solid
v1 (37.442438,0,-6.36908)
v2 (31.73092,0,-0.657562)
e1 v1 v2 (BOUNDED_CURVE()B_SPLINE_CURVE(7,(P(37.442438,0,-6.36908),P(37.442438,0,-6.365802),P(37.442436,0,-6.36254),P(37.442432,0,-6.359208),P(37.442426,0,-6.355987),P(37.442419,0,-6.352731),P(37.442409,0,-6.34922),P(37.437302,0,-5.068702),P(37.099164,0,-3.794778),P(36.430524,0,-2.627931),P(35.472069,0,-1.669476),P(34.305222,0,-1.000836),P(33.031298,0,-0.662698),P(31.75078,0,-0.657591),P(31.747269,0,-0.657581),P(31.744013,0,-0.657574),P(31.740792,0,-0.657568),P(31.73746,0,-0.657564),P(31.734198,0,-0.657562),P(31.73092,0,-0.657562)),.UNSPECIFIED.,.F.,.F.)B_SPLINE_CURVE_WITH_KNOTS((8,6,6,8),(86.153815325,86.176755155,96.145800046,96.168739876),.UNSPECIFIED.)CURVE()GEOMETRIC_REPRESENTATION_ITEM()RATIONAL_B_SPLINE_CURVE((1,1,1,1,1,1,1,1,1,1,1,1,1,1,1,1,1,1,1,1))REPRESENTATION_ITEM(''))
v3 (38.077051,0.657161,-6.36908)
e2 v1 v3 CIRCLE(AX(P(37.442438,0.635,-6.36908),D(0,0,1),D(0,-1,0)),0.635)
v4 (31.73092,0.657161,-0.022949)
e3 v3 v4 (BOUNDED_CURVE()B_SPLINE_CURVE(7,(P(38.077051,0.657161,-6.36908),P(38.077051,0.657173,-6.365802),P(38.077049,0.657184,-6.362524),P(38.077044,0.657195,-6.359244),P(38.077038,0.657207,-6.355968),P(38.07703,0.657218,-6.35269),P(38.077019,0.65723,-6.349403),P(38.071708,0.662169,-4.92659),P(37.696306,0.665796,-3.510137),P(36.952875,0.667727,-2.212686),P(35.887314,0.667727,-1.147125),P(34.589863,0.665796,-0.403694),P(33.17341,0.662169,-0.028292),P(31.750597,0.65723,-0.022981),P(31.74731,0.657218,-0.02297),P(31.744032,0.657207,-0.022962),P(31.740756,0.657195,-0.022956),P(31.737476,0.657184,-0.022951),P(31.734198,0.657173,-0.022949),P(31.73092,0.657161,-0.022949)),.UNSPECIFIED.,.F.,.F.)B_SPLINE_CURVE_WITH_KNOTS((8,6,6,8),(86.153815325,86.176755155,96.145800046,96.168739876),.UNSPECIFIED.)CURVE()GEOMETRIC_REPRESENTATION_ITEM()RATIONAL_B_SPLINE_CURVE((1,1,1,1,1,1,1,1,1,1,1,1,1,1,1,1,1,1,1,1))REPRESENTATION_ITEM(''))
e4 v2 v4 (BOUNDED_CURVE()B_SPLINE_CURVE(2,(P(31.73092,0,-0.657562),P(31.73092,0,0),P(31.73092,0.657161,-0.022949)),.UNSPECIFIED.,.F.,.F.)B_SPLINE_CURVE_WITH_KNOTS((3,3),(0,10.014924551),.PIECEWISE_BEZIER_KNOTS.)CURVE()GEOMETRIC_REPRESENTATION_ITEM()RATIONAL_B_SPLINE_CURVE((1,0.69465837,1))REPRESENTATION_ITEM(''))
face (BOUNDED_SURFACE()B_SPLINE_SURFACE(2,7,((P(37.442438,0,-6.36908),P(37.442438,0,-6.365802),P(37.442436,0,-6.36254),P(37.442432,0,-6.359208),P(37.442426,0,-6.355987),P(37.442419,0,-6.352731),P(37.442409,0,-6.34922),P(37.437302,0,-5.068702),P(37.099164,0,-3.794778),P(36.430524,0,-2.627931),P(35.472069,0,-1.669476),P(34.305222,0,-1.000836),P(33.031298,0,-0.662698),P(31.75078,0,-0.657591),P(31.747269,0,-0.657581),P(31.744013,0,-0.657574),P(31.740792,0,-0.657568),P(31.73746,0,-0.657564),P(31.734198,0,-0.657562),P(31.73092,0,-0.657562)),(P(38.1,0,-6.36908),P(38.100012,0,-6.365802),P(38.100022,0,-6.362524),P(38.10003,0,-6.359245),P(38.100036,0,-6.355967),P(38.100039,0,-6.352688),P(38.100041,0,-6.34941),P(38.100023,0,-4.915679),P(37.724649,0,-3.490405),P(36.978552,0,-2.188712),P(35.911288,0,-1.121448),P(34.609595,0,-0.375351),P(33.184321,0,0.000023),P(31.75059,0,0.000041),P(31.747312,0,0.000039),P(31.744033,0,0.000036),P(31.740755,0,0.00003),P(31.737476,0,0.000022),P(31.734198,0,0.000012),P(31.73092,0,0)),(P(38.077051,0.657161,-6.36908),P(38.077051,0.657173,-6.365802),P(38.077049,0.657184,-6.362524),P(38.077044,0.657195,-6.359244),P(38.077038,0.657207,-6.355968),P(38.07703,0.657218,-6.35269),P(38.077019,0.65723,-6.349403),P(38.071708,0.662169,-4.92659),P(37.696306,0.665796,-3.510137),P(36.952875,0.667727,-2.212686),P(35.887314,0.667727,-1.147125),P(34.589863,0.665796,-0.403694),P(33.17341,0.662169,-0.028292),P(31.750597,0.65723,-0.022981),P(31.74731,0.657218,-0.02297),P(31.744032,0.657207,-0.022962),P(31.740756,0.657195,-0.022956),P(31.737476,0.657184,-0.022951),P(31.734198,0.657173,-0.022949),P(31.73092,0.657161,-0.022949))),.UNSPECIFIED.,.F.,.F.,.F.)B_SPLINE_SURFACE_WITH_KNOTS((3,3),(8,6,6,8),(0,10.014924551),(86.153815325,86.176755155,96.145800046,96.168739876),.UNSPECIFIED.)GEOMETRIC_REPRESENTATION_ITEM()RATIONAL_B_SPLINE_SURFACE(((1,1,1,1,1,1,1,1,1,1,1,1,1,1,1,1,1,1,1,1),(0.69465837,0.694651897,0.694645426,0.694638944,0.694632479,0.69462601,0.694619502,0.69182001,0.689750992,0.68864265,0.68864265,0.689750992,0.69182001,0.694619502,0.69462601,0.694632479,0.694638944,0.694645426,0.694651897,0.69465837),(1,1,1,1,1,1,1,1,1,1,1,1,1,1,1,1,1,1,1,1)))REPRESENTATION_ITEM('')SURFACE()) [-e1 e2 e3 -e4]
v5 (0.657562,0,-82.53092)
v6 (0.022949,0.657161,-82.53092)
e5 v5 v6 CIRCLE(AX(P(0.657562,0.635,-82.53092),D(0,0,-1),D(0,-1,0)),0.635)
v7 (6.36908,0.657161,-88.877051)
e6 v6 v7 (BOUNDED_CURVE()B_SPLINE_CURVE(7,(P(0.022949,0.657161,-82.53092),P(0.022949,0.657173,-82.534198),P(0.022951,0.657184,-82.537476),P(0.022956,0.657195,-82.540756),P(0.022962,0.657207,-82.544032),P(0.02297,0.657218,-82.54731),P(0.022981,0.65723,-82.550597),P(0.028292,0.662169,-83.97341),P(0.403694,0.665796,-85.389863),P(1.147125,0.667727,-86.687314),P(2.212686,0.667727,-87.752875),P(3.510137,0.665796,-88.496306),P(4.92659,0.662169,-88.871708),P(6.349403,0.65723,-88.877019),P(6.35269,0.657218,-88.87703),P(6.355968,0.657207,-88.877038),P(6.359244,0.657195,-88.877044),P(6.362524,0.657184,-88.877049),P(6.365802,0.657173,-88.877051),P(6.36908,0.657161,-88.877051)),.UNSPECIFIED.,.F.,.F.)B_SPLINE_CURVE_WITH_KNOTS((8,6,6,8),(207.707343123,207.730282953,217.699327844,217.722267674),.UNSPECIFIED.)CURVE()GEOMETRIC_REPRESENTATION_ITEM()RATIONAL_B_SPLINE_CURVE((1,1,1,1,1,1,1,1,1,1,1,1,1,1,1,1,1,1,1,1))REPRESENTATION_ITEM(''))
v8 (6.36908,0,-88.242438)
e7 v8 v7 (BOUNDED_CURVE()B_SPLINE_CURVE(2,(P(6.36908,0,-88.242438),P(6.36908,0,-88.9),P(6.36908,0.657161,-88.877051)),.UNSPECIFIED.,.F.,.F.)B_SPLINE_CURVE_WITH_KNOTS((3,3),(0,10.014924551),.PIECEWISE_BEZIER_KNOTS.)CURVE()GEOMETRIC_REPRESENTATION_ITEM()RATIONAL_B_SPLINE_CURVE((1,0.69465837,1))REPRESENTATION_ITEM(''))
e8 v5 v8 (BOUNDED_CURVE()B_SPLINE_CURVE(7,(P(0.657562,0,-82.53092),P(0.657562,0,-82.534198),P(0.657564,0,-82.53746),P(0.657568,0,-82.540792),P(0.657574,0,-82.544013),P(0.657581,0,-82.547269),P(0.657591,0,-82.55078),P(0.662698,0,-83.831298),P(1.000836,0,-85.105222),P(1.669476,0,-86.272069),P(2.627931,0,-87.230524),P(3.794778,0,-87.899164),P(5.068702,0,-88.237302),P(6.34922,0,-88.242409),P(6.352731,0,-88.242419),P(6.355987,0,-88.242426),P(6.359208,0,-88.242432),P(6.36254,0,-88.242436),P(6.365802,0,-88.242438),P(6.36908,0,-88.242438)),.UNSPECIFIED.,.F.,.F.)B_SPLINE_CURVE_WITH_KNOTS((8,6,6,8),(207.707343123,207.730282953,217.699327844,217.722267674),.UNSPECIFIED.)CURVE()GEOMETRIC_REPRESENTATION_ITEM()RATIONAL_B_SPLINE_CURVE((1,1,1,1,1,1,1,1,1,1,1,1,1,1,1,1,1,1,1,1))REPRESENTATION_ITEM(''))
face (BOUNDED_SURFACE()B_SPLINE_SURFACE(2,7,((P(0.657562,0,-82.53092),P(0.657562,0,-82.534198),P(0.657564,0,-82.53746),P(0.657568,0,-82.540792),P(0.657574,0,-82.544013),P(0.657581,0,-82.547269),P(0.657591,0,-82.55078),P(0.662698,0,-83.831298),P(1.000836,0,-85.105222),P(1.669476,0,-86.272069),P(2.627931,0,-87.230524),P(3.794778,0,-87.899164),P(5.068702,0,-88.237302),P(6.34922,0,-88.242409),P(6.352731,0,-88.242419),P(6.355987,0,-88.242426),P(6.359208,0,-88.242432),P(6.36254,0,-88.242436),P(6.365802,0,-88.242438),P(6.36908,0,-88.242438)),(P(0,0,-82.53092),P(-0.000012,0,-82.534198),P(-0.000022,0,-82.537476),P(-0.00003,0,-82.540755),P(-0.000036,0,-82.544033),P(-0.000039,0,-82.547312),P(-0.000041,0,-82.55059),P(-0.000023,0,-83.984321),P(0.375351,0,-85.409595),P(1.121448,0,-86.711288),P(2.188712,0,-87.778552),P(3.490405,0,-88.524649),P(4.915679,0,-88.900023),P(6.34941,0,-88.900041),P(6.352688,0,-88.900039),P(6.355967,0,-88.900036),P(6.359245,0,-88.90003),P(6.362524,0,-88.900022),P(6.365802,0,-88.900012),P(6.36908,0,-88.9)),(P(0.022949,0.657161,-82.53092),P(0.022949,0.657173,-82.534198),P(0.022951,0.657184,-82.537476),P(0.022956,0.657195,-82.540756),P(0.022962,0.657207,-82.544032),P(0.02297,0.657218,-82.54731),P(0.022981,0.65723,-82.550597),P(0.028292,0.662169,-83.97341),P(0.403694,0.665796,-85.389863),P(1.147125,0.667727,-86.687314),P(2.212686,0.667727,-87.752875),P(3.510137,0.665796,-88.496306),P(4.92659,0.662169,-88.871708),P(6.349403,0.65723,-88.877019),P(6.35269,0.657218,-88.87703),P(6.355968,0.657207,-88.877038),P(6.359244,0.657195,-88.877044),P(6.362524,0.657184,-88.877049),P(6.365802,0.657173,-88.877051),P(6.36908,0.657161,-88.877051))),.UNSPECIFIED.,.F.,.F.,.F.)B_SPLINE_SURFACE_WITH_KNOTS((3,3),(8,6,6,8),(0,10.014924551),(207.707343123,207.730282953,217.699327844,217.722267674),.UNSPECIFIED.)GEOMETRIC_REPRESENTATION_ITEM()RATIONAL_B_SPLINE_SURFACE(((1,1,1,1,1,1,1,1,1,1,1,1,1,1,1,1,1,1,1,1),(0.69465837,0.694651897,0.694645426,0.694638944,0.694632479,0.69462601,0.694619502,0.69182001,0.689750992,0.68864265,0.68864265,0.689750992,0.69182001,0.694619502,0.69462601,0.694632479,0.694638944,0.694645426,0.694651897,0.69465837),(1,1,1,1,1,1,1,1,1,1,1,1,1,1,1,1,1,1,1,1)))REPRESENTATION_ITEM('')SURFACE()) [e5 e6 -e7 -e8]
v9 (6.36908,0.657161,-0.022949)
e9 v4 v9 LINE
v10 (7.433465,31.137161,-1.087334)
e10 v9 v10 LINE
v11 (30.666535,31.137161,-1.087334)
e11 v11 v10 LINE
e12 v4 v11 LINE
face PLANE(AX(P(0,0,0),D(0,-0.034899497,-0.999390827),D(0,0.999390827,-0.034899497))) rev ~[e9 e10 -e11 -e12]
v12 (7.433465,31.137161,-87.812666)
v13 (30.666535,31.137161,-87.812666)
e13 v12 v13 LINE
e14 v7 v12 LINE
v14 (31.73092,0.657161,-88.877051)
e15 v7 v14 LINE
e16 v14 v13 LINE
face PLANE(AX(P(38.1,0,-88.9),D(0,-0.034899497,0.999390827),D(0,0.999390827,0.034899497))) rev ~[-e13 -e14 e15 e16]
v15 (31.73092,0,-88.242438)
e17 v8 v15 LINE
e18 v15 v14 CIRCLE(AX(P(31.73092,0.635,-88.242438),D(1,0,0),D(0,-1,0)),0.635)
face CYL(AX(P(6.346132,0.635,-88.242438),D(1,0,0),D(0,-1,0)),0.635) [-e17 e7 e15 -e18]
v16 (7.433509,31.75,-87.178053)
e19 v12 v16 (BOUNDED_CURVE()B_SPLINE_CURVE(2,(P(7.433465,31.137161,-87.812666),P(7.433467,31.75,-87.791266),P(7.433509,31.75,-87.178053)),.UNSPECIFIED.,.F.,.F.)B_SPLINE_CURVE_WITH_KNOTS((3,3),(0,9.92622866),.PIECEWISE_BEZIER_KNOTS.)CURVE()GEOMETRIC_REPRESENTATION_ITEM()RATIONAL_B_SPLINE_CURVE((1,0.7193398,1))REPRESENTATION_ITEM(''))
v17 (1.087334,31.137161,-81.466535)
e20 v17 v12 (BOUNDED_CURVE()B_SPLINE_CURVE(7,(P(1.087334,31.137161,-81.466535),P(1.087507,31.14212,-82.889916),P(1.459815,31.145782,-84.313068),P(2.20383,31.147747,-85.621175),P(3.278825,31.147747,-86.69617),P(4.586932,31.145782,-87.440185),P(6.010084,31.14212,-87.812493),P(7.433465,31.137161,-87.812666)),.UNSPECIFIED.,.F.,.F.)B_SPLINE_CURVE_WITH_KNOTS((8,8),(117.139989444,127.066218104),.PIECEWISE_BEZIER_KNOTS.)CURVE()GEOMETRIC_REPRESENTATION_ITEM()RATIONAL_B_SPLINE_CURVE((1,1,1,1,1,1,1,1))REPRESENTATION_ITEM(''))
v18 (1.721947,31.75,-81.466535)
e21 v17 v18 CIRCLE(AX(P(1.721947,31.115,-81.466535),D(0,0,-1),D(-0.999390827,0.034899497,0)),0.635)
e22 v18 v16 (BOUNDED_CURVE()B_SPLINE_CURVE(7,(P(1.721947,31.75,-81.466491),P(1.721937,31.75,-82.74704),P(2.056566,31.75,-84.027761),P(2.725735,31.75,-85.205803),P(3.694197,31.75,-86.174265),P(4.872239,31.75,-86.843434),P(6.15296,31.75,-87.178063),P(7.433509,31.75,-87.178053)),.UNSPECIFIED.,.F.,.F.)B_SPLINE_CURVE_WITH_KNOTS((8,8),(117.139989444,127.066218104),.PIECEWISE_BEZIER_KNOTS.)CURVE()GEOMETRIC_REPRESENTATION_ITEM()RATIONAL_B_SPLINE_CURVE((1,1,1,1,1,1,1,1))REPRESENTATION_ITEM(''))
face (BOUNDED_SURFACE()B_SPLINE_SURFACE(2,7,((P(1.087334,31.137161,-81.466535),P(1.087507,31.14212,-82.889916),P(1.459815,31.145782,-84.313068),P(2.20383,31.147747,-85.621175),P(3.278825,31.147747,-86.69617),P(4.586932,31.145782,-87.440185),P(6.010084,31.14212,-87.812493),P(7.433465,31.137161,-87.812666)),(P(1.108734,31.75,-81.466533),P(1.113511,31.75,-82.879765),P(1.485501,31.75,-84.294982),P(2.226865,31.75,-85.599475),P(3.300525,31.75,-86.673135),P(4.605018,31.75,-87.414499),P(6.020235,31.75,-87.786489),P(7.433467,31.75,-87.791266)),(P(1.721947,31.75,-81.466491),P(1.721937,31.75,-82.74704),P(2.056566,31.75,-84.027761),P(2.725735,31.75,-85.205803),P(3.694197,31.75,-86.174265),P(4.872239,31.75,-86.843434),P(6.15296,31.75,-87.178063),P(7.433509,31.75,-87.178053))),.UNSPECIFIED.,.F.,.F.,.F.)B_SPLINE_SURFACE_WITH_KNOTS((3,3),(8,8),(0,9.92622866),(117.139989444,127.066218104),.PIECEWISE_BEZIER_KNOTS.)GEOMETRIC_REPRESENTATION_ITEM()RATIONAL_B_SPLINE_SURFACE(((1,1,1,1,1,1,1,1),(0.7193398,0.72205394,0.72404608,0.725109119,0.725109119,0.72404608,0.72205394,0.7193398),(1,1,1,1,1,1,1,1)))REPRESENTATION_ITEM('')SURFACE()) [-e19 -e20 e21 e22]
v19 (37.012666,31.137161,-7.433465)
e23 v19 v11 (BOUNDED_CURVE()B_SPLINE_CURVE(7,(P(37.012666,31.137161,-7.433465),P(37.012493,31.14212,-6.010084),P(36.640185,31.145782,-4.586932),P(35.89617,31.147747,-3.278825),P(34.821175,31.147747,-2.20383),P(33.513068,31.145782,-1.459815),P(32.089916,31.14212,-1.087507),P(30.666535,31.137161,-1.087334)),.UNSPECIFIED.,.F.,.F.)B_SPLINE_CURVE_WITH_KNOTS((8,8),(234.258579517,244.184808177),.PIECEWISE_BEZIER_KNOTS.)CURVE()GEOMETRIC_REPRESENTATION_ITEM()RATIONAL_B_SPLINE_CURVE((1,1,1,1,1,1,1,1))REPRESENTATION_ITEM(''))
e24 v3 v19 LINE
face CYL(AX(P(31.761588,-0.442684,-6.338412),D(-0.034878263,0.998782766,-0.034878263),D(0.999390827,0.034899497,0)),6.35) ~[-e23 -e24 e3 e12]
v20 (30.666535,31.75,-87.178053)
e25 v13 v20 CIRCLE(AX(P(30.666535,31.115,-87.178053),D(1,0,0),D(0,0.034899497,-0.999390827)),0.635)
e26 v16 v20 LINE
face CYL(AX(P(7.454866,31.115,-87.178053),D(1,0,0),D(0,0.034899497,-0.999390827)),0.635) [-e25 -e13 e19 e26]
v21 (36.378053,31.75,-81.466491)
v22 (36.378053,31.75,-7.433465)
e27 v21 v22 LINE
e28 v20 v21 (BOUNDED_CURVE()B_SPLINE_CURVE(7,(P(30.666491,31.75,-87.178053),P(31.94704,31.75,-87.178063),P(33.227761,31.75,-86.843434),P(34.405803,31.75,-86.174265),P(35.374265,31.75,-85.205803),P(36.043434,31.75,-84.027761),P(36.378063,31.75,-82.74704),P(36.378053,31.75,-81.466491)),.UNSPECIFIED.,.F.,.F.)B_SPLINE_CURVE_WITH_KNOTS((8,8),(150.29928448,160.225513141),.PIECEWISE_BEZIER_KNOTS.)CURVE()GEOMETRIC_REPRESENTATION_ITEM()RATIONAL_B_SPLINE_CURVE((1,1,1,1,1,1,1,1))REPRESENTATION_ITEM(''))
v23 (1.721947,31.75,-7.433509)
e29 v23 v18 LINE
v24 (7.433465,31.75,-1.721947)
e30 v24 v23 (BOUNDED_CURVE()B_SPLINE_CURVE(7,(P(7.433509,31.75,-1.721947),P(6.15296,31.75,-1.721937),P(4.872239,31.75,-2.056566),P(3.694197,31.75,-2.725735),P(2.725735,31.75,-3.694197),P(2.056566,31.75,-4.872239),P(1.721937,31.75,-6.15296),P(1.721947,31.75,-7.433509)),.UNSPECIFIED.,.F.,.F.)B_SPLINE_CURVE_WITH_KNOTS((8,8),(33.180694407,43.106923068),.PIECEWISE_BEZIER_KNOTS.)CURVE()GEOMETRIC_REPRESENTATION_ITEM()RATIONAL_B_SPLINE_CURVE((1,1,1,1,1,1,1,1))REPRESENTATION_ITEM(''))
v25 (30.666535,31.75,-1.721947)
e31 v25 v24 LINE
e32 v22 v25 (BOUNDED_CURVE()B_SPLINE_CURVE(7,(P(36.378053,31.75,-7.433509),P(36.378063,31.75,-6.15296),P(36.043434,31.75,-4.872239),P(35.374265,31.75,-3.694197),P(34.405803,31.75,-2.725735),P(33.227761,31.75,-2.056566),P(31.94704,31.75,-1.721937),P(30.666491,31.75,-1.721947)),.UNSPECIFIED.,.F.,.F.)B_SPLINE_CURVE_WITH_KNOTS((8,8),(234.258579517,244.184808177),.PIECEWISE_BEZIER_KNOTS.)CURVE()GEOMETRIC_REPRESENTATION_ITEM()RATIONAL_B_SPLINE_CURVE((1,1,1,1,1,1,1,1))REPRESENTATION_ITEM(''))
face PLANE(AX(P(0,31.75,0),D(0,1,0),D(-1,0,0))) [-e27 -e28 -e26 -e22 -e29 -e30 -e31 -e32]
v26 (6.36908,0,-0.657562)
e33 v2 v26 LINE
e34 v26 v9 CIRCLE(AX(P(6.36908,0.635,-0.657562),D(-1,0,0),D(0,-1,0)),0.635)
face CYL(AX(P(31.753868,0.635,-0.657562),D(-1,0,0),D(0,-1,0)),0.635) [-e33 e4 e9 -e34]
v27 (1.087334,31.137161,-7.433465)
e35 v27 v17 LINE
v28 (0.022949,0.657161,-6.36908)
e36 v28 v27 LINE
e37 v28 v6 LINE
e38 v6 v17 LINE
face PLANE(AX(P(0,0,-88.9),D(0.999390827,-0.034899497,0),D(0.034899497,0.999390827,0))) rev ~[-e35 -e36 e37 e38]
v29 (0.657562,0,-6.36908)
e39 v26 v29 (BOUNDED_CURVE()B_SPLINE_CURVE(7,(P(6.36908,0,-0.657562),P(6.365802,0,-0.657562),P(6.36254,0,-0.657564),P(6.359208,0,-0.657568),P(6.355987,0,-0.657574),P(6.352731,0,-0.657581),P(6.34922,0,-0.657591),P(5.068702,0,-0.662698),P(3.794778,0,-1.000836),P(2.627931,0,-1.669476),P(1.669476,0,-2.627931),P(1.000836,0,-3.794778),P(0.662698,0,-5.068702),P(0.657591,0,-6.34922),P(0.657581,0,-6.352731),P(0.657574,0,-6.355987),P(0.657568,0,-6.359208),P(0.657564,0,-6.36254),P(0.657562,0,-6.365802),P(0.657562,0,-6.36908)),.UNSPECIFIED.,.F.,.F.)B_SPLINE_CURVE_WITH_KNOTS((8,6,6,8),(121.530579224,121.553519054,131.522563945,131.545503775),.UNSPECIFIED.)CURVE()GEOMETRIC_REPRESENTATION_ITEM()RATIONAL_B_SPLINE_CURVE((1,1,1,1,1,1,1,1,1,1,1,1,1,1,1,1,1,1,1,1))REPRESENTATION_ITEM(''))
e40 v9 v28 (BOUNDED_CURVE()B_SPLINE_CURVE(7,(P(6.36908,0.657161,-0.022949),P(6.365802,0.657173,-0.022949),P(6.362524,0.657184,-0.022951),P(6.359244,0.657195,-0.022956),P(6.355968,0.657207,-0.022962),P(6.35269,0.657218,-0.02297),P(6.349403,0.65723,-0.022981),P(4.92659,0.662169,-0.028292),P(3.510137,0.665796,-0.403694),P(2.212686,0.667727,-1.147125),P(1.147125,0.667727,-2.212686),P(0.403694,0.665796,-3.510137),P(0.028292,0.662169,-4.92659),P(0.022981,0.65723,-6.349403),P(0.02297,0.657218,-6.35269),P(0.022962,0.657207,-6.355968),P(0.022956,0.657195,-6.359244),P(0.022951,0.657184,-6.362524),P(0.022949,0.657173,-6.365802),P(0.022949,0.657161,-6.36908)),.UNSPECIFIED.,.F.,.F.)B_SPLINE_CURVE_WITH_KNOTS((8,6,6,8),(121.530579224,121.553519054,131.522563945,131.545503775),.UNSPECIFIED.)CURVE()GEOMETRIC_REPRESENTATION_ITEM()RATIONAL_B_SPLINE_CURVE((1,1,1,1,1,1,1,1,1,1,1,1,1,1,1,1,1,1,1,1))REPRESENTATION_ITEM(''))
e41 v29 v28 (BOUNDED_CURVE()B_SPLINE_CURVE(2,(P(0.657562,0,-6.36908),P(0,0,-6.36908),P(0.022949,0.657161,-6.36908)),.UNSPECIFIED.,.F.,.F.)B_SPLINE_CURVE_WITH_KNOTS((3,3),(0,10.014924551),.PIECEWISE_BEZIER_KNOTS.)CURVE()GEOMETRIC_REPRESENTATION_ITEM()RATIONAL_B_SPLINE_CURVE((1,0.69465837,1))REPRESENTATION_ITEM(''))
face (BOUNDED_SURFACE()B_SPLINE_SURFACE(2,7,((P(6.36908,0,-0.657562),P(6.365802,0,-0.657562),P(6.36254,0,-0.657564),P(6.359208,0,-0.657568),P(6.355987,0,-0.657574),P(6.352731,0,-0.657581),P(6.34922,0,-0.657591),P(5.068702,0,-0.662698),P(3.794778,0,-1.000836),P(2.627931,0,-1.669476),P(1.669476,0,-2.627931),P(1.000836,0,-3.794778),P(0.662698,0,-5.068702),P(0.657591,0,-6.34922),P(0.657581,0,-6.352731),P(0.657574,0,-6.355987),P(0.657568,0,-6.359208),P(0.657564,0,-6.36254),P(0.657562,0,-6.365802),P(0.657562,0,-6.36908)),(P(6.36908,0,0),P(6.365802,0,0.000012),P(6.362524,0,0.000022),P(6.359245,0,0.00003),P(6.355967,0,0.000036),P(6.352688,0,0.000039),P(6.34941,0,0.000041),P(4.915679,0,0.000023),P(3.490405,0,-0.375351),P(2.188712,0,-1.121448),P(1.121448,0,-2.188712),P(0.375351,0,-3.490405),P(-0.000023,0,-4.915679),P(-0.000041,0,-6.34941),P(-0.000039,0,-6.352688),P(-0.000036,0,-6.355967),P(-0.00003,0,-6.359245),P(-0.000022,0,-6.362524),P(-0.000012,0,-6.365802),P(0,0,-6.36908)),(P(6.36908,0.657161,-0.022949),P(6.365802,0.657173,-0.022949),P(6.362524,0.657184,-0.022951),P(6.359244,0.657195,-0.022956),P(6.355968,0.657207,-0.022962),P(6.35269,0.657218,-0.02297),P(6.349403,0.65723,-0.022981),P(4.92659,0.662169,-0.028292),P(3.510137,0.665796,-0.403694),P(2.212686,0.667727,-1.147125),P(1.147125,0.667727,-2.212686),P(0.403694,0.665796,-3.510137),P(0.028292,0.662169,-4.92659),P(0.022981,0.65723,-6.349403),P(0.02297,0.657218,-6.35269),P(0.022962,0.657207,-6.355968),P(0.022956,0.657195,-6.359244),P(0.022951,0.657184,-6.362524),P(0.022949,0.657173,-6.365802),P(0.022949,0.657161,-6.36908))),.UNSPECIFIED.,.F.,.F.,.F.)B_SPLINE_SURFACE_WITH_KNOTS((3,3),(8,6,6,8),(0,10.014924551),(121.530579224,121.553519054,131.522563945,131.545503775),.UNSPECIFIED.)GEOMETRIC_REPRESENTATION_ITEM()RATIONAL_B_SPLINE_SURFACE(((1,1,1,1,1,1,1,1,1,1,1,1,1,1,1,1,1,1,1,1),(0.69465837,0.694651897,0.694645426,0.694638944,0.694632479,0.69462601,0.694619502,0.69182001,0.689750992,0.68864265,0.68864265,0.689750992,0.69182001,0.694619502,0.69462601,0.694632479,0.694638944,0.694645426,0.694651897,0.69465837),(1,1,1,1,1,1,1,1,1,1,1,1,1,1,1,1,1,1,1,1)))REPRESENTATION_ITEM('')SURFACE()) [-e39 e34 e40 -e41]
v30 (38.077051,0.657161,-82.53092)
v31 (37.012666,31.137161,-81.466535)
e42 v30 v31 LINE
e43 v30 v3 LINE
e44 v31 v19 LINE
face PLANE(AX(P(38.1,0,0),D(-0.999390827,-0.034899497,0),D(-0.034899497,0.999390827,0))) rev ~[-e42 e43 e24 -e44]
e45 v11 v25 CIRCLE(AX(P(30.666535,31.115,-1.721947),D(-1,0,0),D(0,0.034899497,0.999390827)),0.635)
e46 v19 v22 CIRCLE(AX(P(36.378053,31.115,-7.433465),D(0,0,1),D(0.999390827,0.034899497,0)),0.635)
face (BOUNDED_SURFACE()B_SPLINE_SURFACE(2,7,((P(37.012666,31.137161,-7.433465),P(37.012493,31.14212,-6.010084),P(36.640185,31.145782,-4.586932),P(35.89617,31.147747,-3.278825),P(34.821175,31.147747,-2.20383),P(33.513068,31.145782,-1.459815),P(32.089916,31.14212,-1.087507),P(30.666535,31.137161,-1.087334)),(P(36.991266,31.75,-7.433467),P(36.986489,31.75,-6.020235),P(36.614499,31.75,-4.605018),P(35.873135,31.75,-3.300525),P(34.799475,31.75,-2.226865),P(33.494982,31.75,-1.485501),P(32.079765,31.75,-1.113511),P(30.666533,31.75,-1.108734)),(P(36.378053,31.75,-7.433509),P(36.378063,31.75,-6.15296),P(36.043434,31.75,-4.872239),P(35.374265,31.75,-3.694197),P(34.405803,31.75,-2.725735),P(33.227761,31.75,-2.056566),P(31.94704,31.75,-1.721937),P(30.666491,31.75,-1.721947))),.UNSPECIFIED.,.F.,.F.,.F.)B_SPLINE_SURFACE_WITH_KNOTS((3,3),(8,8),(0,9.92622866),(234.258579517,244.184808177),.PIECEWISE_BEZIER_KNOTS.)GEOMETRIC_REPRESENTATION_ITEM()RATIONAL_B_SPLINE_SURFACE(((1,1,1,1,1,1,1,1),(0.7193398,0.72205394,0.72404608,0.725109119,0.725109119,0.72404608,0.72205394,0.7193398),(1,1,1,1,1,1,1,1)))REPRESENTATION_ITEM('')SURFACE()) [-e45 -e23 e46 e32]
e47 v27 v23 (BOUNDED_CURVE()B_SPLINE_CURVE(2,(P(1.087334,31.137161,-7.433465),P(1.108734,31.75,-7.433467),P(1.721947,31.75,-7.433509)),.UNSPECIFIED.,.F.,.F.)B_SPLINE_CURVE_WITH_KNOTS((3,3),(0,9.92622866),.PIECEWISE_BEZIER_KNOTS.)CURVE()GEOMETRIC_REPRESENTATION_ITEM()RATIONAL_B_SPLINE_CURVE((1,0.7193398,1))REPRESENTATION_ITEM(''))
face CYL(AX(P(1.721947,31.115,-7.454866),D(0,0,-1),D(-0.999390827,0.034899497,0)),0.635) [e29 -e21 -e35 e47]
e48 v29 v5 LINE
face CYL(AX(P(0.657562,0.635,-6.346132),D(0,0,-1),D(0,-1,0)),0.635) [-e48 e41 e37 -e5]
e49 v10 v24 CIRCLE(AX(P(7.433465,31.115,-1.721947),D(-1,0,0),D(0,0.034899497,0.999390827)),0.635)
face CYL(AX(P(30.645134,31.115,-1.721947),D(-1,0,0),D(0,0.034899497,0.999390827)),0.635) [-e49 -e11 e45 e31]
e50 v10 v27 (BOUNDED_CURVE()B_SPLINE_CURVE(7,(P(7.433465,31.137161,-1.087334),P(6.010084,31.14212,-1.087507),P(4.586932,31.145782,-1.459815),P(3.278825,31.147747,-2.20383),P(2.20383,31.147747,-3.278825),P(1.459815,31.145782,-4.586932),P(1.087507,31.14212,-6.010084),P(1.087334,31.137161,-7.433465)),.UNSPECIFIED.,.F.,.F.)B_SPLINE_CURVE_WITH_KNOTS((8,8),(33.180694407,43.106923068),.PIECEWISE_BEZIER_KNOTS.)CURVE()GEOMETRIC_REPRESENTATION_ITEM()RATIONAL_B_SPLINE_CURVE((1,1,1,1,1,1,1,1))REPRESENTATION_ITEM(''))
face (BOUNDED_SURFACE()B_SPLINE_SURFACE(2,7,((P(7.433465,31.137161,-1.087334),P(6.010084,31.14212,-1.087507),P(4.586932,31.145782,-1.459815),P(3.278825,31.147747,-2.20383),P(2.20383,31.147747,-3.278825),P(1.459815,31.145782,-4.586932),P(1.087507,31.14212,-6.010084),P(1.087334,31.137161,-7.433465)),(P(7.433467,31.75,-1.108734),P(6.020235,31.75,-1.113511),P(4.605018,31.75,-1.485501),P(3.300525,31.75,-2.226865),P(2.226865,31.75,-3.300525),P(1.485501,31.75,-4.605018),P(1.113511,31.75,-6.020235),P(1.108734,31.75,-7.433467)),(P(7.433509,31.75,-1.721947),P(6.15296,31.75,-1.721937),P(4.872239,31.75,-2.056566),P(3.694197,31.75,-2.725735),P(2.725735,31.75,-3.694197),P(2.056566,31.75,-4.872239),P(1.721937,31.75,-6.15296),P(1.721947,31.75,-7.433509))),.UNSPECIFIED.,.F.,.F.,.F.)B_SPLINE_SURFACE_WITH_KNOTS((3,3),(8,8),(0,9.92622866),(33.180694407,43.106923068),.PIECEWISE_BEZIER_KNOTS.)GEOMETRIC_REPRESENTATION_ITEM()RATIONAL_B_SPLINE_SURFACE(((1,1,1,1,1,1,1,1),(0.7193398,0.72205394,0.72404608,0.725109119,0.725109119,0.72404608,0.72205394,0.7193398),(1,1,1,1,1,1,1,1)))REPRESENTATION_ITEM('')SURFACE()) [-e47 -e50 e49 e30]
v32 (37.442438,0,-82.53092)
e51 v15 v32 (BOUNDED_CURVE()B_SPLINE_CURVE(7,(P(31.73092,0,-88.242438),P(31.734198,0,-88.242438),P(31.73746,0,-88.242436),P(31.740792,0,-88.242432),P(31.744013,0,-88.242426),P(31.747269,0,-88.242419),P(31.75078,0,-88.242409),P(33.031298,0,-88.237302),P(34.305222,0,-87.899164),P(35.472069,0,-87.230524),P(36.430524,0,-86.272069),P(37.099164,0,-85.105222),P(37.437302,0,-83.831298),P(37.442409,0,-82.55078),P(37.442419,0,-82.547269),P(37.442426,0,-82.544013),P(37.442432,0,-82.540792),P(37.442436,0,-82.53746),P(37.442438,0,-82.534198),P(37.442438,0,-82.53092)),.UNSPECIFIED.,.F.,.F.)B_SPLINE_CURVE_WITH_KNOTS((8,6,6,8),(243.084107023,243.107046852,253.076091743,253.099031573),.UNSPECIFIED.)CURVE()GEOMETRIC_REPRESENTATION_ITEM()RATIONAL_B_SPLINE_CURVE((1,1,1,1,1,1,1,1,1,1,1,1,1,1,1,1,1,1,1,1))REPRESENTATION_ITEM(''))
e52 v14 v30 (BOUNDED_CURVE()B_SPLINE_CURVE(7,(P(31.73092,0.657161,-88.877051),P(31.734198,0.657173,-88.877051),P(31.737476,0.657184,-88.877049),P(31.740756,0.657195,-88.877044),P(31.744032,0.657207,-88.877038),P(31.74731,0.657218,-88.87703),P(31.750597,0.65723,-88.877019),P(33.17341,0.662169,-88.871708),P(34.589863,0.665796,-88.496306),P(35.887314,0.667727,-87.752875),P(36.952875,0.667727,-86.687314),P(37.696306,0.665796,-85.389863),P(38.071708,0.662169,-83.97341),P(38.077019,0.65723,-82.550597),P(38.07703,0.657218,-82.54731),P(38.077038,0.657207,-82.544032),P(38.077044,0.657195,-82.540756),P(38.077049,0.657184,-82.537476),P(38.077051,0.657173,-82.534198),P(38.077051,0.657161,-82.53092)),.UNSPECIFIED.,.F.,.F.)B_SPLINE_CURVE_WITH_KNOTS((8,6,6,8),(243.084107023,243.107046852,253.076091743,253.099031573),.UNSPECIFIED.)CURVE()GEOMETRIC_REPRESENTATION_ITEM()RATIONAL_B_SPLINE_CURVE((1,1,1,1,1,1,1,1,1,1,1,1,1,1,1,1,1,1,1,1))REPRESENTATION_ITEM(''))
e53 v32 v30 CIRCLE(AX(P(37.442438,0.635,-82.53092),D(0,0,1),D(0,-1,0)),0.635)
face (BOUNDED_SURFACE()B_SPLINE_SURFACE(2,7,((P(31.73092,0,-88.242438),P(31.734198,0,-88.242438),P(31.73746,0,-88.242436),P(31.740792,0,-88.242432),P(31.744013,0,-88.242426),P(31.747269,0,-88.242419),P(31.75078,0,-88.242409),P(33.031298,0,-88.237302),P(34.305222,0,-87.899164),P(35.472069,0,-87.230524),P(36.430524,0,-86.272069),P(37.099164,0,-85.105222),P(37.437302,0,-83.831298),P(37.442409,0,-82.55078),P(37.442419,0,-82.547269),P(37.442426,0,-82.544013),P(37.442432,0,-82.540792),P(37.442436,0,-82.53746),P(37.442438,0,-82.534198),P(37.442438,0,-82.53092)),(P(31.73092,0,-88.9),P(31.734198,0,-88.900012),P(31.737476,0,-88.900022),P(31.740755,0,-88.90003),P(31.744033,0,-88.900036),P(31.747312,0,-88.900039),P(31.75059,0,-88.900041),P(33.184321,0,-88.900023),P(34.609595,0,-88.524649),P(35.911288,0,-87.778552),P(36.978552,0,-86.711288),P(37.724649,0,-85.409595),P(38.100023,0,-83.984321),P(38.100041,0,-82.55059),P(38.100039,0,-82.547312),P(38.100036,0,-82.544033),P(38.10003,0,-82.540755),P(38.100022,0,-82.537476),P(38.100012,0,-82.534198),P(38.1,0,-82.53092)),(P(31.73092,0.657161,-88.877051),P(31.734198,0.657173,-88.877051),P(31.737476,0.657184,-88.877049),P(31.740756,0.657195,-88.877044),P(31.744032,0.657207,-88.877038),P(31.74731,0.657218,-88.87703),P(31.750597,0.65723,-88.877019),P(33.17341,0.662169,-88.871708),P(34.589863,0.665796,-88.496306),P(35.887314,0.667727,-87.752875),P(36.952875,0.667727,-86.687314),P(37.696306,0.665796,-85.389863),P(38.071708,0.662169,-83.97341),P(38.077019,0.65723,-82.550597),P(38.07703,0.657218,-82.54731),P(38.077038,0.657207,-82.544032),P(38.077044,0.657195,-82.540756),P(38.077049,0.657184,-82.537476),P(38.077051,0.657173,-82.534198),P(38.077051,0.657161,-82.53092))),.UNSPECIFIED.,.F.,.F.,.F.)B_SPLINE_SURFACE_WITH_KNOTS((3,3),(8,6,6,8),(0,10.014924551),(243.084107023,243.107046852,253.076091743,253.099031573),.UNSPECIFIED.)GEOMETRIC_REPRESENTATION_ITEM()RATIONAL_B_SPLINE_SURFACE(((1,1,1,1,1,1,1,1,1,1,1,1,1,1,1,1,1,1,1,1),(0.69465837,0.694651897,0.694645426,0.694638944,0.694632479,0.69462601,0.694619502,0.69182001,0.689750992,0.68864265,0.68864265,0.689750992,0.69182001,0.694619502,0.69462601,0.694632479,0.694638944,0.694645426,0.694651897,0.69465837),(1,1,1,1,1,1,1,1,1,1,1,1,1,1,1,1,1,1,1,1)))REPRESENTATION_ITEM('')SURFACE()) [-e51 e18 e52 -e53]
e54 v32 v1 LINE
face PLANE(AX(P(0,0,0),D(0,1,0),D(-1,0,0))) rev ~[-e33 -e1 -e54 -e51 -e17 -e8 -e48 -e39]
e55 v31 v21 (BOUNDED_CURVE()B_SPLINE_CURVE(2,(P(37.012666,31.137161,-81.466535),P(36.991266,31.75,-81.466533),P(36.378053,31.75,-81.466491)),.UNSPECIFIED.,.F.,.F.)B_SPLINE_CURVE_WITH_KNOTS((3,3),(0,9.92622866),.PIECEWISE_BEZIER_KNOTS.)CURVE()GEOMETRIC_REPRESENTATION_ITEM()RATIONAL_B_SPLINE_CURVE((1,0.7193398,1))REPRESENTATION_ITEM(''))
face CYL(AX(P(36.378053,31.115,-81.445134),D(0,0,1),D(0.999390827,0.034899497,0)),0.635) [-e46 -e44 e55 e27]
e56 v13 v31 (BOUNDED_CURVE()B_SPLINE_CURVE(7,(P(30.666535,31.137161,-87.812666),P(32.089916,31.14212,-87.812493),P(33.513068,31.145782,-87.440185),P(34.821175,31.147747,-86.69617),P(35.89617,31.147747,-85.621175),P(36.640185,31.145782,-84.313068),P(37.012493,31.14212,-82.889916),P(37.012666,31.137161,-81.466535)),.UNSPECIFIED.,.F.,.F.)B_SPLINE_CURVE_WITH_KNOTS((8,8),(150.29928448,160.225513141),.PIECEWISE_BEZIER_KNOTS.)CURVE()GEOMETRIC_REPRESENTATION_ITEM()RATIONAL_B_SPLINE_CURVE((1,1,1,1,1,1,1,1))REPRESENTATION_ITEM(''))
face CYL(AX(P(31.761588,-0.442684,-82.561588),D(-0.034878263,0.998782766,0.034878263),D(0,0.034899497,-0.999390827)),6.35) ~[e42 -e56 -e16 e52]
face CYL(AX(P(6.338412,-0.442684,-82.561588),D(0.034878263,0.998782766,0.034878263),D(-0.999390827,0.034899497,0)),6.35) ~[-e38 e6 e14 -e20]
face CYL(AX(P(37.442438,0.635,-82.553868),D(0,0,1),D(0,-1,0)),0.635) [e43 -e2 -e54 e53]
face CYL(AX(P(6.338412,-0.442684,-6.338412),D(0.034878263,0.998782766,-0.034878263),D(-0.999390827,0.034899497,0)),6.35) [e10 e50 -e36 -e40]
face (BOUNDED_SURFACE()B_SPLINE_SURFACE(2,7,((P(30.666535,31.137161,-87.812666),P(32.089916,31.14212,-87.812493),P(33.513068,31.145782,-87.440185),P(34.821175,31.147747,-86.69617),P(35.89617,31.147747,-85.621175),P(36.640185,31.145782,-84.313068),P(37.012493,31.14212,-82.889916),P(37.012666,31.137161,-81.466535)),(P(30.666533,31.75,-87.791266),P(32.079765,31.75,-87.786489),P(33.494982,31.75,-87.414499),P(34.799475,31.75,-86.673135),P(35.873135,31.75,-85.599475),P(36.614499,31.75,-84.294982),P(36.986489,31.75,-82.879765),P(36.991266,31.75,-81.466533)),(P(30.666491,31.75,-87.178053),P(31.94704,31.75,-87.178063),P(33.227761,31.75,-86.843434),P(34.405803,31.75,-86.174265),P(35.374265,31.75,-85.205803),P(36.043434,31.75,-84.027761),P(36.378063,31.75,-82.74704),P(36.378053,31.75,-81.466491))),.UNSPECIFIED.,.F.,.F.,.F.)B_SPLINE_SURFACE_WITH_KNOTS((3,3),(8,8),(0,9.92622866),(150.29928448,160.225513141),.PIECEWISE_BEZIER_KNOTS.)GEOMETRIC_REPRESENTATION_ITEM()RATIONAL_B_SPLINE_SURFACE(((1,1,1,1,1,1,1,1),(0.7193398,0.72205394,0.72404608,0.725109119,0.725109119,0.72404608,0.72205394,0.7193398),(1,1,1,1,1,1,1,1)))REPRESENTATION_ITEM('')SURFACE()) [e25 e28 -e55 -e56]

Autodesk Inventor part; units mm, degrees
ref_plane "YZ Plane" through (0, 0, 0) normal (1, 0, 0) x (0, 1, 0)
ref_plane "XZ Plane" through (0, 0, 0) normal (0, 1, 0) x (-1, 0, 0)
ref_plane "XY Plane" through (0, 0, 0) normal (0, 0, 1) x (1, 0, 0)
sketch "Sketch1" plane through (0, 0, 0) normal (0, 1, 0) x (-1, 0, 0)
  line L0 (0, 0) -> (-38.1, 0)
  line L1 (-38.1, 0) -> (-38.1, -88.9)
  line L2 (-38.1, -88.9) -> (0, -88.9)
  line L3 (0, -88.9) -> (0, 0)
  dimension "d0" = 38.1
  dimension "d1" = 88.9
extrude "Extrusion1" add sketch "Sketch1" along normal blind 31.75 draft -2
fillet "Fillet1" radius 6.35 4 edges at (0.5544, 15.875, -0.5544) (37.5456, 15.875, -88.3456) (0.5544, 15.875, -88.3456) (37.5456, 15.875, -0.5544)
fillet "Fillet2" radius 0.635 16 edges at (35.133, 31.75, -2.967) (19.05, 31.75, -1.1087) (2.967, 31.75, -2.967) (1.1087, 31.75, -44.45) (2.967, 31.75, -85.933) (19.05, 31.75, -87.7913) (35.133, 31.75, -85.933) (36.9913, 31.75, -44.45) (36.2417, 0, -87.0417) (19.05, 0, -88.9) (1.8583, 0, -87.0417) (0, 0, -44.45) (1.8583, 0, -1.8583) (19.05, 0, 0) (36.2417, 0, -1.8583) (38.1, 0, -44.45)
properties part number "Drive" material "Steel, Cast"
